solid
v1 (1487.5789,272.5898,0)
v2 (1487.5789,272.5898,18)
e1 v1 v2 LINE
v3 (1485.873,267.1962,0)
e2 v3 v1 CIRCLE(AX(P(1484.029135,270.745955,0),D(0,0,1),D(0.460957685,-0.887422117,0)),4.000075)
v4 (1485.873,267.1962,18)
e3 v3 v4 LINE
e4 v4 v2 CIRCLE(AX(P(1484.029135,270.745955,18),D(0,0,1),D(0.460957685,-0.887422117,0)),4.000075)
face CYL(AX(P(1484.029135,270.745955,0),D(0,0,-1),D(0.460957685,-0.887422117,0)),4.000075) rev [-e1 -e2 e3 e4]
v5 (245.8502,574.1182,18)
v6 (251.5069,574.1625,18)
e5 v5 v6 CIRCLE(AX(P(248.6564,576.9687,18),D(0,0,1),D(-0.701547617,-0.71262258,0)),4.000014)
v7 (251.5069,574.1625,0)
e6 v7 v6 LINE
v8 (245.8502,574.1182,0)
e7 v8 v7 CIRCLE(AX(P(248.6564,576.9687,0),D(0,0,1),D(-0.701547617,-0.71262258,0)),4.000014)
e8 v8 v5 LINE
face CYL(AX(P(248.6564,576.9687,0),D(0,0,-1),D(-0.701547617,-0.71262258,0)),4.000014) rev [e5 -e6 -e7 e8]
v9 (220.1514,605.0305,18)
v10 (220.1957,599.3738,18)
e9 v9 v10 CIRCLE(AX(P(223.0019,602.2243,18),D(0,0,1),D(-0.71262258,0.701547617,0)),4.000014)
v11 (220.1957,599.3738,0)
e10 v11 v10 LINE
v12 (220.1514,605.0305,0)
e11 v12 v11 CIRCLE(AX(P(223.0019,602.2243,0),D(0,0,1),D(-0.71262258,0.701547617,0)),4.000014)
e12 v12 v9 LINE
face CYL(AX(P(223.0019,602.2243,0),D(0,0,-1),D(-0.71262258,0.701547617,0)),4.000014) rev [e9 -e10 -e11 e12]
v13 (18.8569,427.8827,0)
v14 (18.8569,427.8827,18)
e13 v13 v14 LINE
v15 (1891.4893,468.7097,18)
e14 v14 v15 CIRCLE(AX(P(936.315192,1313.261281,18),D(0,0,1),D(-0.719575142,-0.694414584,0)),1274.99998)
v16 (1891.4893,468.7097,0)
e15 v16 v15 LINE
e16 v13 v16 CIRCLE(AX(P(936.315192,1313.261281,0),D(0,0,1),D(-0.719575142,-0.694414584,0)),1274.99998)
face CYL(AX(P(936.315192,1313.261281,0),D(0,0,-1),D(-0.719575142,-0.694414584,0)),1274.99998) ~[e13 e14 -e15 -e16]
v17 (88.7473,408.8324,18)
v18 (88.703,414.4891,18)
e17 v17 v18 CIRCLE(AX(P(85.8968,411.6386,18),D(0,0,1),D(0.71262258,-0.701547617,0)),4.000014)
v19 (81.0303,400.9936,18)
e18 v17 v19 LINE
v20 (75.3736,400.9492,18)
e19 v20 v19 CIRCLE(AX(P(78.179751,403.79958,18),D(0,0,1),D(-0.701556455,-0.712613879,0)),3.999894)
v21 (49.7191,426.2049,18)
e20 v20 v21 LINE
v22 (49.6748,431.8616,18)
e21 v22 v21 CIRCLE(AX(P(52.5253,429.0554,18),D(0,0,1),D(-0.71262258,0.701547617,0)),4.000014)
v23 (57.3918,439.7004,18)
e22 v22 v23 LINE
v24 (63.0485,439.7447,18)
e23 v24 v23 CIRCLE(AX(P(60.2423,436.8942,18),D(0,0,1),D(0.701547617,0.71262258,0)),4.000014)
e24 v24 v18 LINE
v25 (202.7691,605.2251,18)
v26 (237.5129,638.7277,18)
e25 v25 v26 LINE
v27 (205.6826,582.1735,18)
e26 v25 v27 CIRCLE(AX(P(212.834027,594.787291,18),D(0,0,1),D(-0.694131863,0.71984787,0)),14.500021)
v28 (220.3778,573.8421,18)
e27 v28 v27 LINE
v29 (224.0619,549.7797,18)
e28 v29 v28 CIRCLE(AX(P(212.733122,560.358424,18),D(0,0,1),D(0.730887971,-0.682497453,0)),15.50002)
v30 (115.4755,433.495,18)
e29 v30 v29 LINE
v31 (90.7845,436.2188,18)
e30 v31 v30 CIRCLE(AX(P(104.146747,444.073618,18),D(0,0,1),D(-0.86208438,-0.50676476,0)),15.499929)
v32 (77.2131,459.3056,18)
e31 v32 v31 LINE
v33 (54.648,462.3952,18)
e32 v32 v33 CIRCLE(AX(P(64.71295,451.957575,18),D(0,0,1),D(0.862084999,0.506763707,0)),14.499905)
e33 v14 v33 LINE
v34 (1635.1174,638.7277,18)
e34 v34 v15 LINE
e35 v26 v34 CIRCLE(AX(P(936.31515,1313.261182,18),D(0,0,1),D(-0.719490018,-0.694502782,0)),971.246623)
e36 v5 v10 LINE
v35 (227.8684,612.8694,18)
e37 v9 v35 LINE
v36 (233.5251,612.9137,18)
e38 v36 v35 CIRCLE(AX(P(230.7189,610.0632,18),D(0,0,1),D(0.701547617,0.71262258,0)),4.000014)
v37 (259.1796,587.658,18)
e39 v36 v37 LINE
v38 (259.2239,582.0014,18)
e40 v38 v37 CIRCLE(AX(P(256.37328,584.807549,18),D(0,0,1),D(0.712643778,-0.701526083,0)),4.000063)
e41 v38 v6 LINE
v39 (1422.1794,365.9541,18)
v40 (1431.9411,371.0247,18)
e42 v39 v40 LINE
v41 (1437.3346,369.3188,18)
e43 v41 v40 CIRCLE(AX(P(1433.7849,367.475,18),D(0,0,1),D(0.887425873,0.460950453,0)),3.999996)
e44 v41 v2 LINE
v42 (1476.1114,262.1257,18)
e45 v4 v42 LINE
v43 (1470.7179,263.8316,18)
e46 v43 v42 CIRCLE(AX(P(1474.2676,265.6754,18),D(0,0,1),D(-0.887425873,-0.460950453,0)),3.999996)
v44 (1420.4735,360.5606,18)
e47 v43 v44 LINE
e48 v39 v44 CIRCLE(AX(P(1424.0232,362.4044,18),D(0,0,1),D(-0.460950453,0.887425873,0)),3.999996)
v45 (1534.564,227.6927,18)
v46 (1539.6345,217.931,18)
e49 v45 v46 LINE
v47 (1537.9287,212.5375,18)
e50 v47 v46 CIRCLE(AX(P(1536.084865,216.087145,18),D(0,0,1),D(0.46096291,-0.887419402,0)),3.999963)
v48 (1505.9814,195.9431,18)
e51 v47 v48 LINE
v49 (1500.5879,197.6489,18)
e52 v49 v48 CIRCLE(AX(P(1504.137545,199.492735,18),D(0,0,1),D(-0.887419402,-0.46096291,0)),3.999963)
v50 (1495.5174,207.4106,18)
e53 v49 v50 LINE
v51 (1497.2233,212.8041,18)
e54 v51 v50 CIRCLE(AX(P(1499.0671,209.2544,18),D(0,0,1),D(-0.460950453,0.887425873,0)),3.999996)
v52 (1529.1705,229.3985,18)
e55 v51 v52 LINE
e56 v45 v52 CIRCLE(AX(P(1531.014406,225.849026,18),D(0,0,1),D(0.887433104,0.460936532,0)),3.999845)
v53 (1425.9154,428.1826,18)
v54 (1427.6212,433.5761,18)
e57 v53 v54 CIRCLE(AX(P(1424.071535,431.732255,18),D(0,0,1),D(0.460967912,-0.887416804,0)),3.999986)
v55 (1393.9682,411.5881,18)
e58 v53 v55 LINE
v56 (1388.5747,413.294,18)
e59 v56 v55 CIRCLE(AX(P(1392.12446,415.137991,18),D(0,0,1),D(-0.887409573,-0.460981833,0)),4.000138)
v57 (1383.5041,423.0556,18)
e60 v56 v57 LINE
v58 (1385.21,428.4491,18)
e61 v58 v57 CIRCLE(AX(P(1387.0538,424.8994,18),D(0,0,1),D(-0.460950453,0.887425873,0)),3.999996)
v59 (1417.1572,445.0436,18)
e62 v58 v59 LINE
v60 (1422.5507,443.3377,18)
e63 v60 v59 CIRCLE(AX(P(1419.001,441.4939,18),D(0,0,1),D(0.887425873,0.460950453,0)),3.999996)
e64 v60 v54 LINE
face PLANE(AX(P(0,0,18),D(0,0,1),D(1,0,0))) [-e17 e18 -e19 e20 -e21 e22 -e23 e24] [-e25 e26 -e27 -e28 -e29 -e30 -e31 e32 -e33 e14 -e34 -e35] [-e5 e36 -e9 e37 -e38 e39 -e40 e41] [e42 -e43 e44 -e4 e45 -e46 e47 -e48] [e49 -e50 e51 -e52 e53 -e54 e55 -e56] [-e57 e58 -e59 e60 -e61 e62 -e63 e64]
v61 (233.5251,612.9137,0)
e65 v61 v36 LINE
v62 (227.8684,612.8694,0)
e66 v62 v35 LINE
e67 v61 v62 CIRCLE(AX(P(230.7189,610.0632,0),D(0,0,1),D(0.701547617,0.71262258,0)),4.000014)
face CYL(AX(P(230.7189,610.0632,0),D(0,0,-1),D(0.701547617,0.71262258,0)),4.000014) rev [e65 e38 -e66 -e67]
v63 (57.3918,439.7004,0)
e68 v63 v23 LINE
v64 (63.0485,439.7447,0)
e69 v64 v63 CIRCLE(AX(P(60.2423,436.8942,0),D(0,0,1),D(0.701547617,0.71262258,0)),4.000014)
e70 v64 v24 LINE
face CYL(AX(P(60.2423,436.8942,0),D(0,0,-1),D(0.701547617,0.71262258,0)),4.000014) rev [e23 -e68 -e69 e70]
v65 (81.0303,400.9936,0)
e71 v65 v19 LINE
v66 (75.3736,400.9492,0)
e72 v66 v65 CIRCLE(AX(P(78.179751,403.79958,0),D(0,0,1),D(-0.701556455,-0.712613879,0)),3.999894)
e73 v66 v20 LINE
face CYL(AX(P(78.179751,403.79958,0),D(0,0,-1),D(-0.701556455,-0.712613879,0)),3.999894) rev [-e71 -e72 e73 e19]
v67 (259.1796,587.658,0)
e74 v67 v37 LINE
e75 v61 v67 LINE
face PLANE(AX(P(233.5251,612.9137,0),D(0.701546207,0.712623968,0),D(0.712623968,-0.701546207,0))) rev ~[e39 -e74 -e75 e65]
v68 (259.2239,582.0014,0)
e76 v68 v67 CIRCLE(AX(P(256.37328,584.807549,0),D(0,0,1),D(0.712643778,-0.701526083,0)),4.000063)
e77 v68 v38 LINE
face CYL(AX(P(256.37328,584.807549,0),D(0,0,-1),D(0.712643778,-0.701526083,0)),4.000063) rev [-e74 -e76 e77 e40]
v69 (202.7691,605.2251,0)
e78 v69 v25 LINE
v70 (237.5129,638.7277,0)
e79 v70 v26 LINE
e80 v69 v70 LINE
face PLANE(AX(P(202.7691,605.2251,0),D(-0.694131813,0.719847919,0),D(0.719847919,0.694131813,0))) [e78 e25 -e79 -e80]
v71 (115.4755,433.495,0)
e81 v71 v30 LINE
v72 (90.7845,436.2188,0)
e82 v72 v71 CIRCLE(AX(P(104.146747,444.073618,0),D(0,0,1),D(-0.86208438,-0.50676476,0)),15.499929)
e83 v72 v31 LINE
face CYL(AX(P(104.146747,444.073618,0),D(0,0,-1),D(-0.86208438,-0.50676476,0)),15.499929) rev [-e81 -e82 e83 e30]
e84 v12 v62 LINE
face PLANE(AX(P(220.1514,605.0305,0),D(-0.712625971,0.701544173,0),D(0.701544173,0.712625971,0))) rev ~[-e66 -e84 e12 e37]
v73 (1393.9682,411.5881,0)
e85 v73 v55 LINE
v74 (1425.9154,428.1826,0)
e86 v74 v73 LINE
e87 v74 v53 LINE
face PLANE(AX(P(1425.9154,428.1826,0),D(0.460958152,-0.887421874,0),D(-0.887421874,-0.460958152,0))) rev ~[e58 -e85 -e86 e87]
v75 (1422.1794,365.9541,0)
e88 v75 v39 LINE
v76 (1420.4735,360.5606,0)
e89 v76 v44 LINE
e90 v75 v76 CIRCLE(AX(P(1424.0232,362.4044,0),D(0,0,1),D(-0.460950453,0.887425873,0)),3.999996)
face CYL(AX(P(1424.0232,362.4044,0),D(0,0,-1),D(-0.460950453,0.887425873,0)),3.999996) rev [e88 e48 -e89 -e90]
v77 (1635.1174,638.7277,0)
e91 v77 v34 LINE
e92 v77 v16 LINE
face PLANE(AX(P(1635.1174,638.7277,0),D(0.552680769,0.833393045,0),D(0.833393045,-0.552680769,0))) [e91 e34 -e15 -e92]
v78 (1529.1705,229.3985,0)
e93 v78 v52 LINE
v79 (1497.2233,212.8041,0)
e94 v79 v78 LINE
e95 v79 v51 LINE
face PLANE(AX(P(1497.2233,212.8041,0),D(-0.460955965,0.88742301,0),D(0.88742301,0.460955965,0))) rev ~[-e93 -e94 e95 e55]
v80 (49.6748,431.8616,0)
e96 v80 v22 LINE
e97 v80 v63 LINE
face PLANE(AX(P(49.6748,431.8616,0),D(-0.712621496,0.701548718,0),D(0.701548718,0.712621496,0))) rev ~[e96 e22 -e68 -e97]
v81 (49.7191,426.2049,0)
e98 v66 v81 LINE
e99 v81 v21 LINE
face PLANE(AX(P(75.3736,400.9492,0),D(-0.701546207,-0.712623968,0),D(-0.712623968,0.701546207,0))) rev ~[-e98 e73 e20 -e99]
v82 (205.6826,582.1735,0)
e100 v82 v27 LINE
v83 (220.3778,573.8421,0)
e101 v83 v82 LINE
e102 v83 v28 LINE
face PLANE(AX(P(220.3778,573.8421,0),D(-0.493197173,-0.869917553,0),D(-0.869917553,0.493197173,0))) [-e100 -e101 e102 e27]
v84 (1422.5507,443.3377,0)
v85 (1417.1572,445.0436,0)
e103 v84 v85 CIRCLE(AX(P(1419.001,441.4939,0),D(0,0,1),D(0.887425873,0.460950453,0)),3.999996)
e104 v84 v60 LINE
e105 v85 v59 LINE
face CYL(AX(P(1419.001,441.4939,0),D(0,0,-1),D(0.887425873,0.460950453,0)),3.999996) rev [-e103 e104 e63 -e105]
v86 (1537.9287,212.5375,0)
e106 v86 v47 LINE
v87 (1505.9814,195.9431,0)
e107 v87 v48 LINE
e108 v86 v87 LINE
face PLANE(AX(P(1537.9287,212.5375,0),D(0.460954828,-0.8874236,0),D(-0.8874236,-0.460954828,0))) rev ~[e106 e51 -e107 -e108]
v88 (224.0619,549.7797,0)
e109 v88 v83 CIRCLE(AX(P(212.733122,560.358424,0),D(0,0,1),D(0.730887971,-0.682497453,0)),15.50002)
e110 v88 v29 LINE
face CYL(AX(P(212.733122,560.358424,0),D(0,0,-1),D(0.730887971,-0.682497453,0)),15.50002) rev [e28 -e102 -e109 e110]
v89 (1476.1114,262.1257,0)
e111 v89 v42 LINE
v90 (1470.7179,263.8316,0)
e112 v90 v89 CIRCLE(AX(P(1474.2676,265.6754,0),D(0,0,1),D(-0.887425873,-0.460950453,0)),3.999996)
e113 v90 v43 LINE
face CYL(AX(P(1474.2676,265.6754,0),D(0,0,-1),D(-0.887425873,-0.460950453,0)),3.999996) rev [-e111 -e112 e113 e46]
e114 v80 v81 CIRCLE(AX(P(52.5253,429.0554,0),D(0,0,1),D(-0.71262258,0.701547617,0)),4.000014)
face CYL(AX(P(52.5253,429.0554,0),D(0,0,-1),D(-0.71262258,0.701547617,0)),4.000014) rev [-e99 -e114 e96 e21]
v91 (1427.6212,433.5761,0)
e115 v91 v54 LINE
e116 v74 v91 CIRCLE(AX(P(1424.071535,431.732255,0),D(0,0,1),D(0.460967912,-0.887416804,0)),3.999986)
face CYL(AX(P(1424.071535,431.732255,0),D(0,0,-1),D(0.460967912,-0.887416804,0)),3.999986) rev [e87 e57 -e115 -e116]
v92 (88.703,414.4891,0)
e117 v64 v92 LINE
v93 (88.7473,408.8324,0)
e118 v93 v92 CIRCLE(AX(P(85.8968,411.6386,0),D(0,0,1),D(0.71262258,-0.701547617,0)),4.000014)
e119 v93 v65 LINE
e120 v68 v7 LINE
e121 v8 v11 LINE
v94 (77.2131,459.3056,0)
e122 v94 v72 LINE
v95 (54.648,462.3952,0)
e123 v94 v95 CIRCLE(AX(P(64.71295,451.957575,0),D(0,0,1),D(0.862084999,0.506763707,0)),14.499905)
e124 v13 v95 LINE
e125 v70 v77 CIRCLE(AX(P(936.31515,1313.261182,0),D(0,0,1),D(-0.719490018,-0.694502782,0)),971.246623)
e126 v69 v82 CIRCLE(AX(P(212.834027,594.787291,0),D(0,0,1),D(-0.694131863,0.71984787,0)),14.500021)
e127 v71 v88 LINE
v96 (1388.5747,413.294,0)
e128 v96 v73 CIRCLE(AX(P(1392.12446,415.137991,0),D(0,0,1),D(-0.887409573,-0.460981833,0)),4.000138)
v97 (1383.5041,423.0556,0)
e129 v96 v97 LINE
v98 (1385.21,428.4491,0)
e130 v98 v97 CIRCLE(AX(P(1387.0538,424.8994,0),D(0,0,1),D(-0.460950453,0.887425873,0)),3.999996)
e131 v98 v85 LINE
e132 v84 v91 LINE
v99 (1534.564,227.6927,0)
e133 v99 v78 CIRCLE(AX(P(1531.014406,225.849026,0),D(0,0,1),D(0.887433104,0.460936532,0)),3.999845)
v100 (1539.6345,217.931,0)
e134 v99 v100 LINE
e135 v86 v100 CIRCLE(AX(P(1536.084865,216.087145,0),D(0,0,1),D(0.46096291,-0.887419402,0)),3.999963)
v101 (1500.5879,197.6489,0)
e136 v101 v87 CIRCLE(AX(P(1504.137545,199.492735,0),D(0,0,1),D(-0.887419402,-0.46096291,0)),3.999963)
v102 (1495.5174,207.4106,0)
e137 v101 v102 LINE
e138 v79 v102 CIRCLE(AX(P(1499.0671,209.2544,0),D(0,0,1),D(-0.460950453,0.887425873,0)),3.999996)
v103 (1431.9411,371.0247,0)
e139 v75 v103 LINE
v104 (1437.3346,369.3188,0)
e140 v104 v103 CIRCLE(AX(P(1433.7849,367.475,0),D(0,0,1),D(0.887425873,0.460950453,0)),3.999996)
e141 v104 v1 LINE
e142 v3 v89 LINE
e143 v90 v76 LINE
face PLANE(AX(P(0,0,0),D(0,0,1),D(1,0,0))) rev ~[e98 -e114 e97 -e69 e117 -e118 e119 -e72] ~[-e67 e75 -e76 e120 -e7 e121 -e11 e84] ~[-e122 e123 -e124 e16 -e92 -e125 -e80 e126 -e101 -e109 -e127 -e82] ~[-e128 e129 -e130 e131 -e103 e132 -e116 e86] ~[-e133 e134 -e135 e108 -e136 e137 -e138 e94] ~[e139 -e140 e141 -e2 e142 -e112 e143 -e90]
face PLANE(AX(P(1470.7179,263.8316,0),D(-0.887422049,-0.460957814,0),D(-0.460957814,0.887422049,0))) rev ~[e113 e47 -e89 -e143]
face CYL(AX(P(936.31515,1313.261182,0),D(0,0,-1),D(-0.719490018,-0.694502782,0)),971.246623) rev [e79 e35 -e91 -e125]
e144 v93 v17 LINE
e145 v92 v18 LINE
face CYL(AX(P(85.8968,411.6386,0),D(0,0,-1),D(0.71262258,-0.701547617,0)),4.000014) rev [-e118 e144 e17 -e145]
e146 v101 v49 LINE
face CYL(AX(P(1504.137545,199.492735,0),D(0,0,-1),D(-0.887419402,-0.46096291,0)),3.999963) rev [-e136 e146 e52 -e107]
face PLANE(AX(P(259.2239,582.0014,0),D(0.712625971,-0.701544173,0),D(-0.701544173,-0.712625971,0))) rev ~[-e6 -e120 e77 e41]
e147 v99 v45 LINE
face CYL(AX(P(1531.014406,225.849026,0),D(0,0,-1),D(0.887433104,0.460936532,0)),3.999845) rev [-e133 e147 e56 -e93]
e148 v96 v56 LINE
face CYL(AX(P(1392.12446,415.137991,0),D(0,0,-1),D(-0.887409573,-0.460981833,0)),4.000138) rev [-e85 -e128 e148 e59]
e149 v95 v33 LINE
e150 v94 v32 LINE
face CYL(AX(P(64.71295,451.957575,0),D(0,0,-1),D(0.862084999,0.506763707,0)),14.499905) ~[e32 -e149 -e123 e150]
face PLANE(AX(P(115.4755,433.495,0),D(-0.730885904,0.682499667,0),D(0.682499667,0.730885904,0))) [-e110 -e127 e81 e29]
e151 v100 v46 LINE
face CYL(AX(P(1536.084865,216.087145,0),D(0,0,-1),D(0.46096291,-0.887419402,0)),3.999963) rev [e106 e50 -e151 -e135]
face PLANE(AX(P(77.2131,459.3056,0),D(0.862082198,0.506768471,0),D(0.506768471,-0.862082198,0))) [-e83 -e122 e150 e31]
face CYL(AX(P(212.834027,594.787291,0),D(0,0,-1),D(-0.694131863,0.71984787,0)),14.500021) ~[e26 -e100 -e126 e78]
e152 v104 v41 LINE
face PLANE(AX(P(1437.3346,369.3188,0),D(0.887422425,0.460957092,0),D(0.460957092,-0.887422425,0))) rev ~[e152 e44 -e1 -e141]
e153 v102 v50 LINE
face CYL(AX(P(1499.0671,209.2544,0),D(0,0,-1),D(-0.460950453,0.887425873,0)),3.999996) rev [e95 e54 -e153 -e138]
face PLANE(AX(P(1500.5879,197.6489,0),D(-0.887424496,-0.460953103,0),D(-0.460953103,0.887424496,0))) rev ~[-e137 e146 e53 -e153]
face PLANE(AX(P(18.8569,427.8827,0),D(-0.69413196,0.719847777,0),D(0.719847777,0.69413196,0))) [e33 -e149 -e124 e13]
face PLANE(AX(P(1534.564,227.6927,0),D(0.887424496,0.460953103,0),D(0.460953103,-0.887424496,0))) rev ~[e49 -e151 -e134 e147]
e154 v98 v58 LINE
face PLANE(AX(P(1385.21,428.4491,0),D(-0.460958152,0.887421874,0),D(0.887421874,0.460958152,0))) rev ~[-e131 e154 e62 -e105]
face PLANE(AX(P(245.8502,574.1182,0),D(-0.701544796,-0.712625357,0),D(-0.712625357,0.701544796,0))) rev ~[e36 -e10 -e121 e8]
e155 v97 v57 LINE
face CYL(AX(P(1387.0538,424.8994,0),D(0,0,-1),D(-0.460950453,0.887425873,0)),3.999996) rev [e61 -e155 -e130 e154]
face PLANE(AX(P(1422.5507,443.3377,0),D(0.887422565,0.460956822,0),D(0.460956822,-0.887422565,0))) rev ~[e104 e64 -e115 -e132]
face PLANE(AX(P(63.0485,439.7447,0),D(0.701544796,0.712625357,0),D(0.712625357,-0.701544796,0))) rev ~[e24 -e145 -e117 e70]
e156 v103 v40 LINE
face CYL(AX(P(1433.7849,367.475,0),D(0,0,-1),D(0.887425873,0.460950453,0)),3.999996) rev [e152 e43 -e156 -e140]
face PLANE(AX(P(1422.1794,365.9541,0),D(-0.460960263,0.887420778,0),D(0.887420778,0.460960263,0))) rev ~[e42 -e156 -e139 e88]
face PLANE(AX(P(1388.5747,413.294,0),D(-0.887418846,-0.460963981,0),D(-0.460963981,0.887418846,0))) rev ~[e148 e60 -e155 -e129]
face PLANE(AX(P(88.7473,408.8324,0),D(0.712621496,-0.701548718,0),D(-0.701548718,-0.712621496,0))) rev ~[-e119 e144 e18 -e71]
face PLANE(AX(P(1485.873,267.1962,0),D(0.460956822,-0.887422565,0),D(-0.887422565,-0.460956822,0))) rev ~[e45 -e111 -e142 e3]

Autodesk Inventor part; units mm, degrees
ref_plane "YZ Plane" through (0, 0, 0) normal (1, 0, 0) x (0, 1, 0)
ref_plane "XZ Plane" through (0, 0, 0) normal (0, 1, 0) x (-1, 0, 0)
ref_plane "XY Plane" through (0, 0, 0) normal (0, 0, 1) x (1, 0, 0)
sketch "CONTOURS" plane through (0, 0, 0) normal (0, 0, 1) x (1, 0, 0)
  arc A0 (18.8569, 427.8827) -> (1891.4893, 468.7097) centre (936.3152, 1313.2613) ccw
  line L0 (18.8569, 427.8827) -> (54.648, 462.3952)
  arc A1 (77.2131, 459.3056) -> (54.648, 462.3952) centre (64.7129, 451.9575) ccw
  line L1 (77.2131, 459.3056) -> (90.7845, 436.2188)
  arc A2 (90.7845, 436.2188) -> (115.4755, 433.495) centre (104.1468, 444.0737) ccw
  line L2 (115.4755, 433.495) -> (224.0619, 549.7797)
  arc A3 (224.0619, 549.7797) -> (220.3778, 573.8421) centre (212.7332, 560.3584) ccw
  line L3 (220.3778, 573.8421) -> (205.6826, 582.1735)
  arc A4 (202.7691, 605.2251) -> (205.6826, 582.1735) centre (212.834, 594.7873) ccw
  line L4 (202.7691, 605.2251) -> (237.5129, 638.7277)
  arc A5 (237.5129, 638.7277) -> (1635.1174, 638.7277) centre (936.3152, 1313.2613) ccw
  line L5 (1635.1174, 638.7277) -> (1891.4893, 468.7097)
sketch "HOLES" plane through (0, 0, 0) normal (0, 0, 1) x (1, 0, 0)
  arc A0 (75.3736, 400.9492) -> (81.0303, 400.9936) centre (78.1798, 403.7997) ccw
  line L0 (75.3736, 400.9492) -> (49.7191, 426.2049)
  arc A1 (49.6748, 431.8616) -> (49.7191, 426.2049) centre (52.5253, 429.0554) ccw
  line L1 (49.6748, 431.8616) -> (57.3918, 439.7004)
  arc A2 (63.0485, 439.7447) -> (57.3918, 439.7004) centre (60.2423, 436.8942) ccw
  line L2 (63.0485, 439.7447) -> (88.703, 414.4891)
  arc A3 (88.7473, 408.8324) -> (88.703, 414.4891) centre (85.8968, 411.6386) ccw
  line L3 (1537.9287, 212.5375) -> (1505.9814, 195.9431)
  arc A4 (1500.5879, 197.6489) -> (1505.9814, 195.9431) centre (1504.1376, 199.4928) ccw
  line L4 (1500.5879, 197.6489) -> (1495.5174, 207.4106)
  arc A5 (1497.2233, 212.8041) -> (1495.5174, 207.4106) centre (1499.0671, 209.2544) ccw
  line L5 (1497.2233, 212.8041) -> (1529.1705, 229.3985)
  arc A6 (1534.564, 227.6927) -> (1529.1705, 229.3985) centre (1531.0143, 225.8489) ccw
  line L6 (1534.564, 227.6927) -> (1539.6345, 217.931)
  arc A7 (1537.9287, 212.5375) -> (1539.6345, 217.931) centre (1536.0848, 216.0872) ccw
  line L7 (1485.873, 267.1962) -> (1476.1114, 262.1257)
  arc A8 (1470.7179, 263.8316) -> (1476.1114, 262.1257) centre (1474.2676, 265.6754) ccw
  line L8 (1470.7179, 263.8316) -> (1420.4735, 360.5606)
  arc A9 (1422.1794, 365.9541) -> (1420.4735, 360.5606) centre (1424.0232, 362.4044) ccw
  line L9 (1422.1794, 365.9541) -> (1431.9411, 371.0247)
  arc A10 (1437.3346, 369.3188) -> (1431.9411, 371.0247) centre (1433.7849, 367.475) ccw
  line L10 (1437.3346, 369.3188) -> (1487.5789, 272.5898)
  arc A11 (1485.873, 267.1962) -> (1487.5789, 272.5898) centre (1484.0292, 270.7459) ccw
  line L11 (1388.5747, 413.294) -> (1383.5041, 423.0556)
  arc A12 (1385.21, 428.4491) -> (1383.5041, 423.0556) centre (1387.0538, 424.8994) ccw
  line L12 (1385.21, 428.4491) -> (1417.1572, 445.0436)
  arc A13 (1422.5507, 443.3377) -> (1417.1572, 445.0436) centre (1419.001, 441.4939) ccw
  line L13 (1422.5507, 443.3377) -> (1427.6212, 433.5761)
  arc A14 (1425.9154, 428.1826) -> (1427.6212, 433.5761) centre (1424.0716, 431.7322) ccw
  line L14 (1425.9154, 428.1826) -> (1393.9682, 411.5881)
  arc A15 (1388.5747, 413.294) -> (1393.9682, 411.5881) centre (1392.1243, 415.1378) ccw
  line L15 (220.1514, 605.0305) -> (227.8684, 612.8694)
  arc A16 (233.5251, 612.9137) -> (227.8684, 612.8694) centre (230.7189, 610.0632) ccw
  line L16 (233.5251, 612.9137) -> (259.1796, 587.658)
  arc A17 (259.2239, 582.0014) -> (259.1796, 587.658) centre (256.3734, 584.8075) ccw
  line L17 (259.2239, 582.0014) -> (251.5069, 574.1625)
  arc A18 (245.8502, 574.1182) -> (251.5069, 574.1625) centre (248.6564, 576.9687) ccw
  line L18 (245.8502, 574.1182) -> (220.1957, 599.3738)
  arc A19 (220.1514, 605.0305) -> (220.1957, 599.3738) centre (223.0019, 602.2243) ccw
  line L19 (543.0858, 821.5545) -> (547.6833, 831.5476)
  arc A20 (547.6833, 831.5476) -> (545.7213, 836.8533) centre (544.0494, 833.2195) ccw
  line L20 (545.7213, 836.8533) -> (513.0165, 851.8999)
  arc A21 (513.0165, 851.8999) -> (507.7108, 849.9379) centre (511.3447, 848.266) ccw
  line L21 (507.7108, 849.9379) -> (503.1133, 839.9447)
  arc A22 (503.1133, 839.9447) -> (505.0753, 834.639) centre (506.7471, 838.2729) ccw
  line L22 (505.0753, 834.639) -> (537.7801, 819.5925)
  arc A23 (537.7801, 819.5925) -> (543.0858, 821.5545) centre (539.4519, 823.2264) ccw
  line L23 (481.0423, 782.4016) -> (435.4847, 683.3788)
  arc A24 (435.4847, 683.3788) -> (437.4468, 678.0731) centre (439.1186, 681.7069) ccw
  line L24 (437.4468, 678.0731) -> (447.4399, 673.4755)
  arc A25 (447.4399, 673.4755) -> (452.7456, 675.4376) centre (449.1117, 677.1094) ccw
  line L25 (452.7456, 675.4376) -> (498.3031, 774.4603)
  arc A26 (498.3031, 774.4603) -> (496.3411, 779.766) centre (494.6693, 776.1322) ccw
  line L26 (496.3411, 779.766) -> (486.348, 784.3636)
  arc A27 (486.348, 784.3636) -> (481.0423, 782.4016) centre (484.6762, 780.7297) ccw
  line L27 (446.1185, 610.7891) -> (441.521, 600.7959)
  arc A28 (436.2153, 598.8339) -> (441.521, 600.7959) centre (437.8871, 602.4678) ccw
  line L28 (436.2153, 598.8339) -> (403.5105, 613.8804)
  arc A29 (401.5485, 619.1861) -> (403.5105, 613.8804) centre (405.1824, 617.5143) ccw
  line L29 (401.5485, 619.1861) -> (406.1461, 629.1793)
  arc A30 (411.4518, 631.1413) -> (406.1461, 629.1793) centre (409.7799, 627.5074) ccw
  line L30 (411.4518, 631.1413) -> (444.1565, 616.0948)
  arc A31 (446.1185, 610.7891) -> (444.1565, 616.0948) centre (442.4847, 612.4609) ccw
  line L31 (88.7473, 408.8324) -> (81.0303, 400.9936)
sketch "LETTERS" plane through (0, 0, 0) normal (0, 0, 1) x (1, 0, 0)
  line L0 (228.3428, 428.6061) -> (222.1589, 433.5761)
  line L1 (222.1589, 433.5761) -> (234.7826, 448.8621)
  line L2 (234.7826, 448.8621) -> (240.0493, 444.5126)
  line L3 (240.0493, 444.5126) -> (240.1714, 444.4197)
  line L4 (240.1714, 444.4197) -> (240.2915, 444.3221)
  line L5 (240.2915, 444.3221) -> (240.4096, 444.2197)
  line L6 (240.4096, 444.2197) -> (240.5256, 444.1125)
  line L7 (240.5256, 444.1125) -> (240.6391, 444.0004)
  line L8 (240.6391, 444.0004) -> (240.7501, 443.8834)
  line L9 (240.7501, 443.8834) -> (240.8585, 443.7615)
  line L10 (240.8585, 443.7615) -> (240.9639, 443.6348)
  line L11 (240.9639, 443.6348) -> (241.0664, 443.5031)
  line L12 (241.0664, 443.5031) -> (241.1657, 443.3666)
  line L13 (228.4677, 428.5172) -> (228.3428, 428.6061)
  line L14 (228.5966, 428.4315) -> (228.4677, 428.5172)
  line L15 (228.7295, 428.3492) -> (228.5966, 428.4315)
  line L16 (228.8663, 428.2704) -> (228.7295, 428.3492)
  line L17 (229.0071, 428.1953) -> (228.8663, 428.2704)
  line L18 (229.1518, 428.1241) -> (229.0071, 428.1953)
  line L19 (229.3004, 428.0569) -> (229.1518, 428.1241)
  line L20 (229.4528, 427.9939) -> (229.3004, 428.0569)
  line L21 (229.609, 427.9352) -> (229.4528, 427.9939)
  line L22 (229.7689, 427.8809) -> (229.609, 427.9352)
  line L23 (229.9324, 427.8313) -> (229.7689, 427.8809)
  line L24 (230.0995, 427.7865) -> (229.9324, 427.8313)
  line L25 (230.2701, 427.7466) -> (230.0995, 427.7865)
  line L26 (230.444, 427.7117) -> (230.2701, 427.7466)
  line L27 (230.6212, 427.6819) -> (230.444, 427.7117)
  line L28 (230.8016, 427.6574) -> (230.6212, 427.6819)
  line L29 (230.9849, 427.6383) -> (230.8016, 427.6574)
  line L30 (231.1712, 427.6246) -> (230.9849, 427.6383)
  line L31 (231.3602, 427.6165) -> (231.1712, 427.6246)
  line L32 (231.5519, 427.6141) -> (231.3602, 427.6165)
  line L33 (231.7459, 427.6174) -> (231.5519, 427.6141)
  line L34 (231.9423, 427.6264) -> (231.7459, 427.6174)
  line L35 (232.1408, 427.6413) -> (231.9423, 427.6264)
  line L36 (232.3412, 427.662) -> (232.1408, 427.6413)
  line L37 (232.5433, 427.6887) -> (232.3412, 427.662)
  line L38 (232.747, 427.7212) -> (232.5433, 427.6887)
  line L39 (232.9521, 427.7597) -> (232.747, 427.7212)
  line L40 (233.1584, 427.8041) -> (232.9521, 427.7597)
  line L41 (233.3656, 427.8544) -> (233.1584, 427.8041)
  line L42 (233.5736, 427.9106) -> (233.3656, 427.8544)
  line L43 (233.7821, 427.9726) -> (233.5736, 427.9106)
  line L44 (233.991, 428.0404) -> (233.7821, 427.9726)
  line L45 (234.2, 428.1139) -> (233.991, 428.0404)
  line L46 (234.409, 428.193) -> (234.2, 428.1139)
  line L47 (234.6177, 428.2776) -> (234.409, 428.193)
  line L48 (234.8258, 428.3677) -> (234.6177, 428.2776)
  line L49 (235.0333, 428.4632) -> (234.8258, 428.3677)
  line L50 (235.2399, 428.5638) -> (235.0333, 428.4632)
  line L51 (235.4454, 428.6696) -> (235.2399, 428.5638)
  line L52 (235.6496, 428.7803) -> (235.4454, 428.6696)
  line L53 (235.8522, 428.8958) -> (235.6496, 428.7803)
  line L54 (236.0532, 429.0159) -> (235.8522, 428.8958)
  line L55 (236.2524, 429.1405) -> (236.0532, 429.0159)
  line L56 (236.4495, 429.2695) -> (236.2524, 429.1405)
  line L57 (236.6444, 429.4026) -> (236.4495, 429.2695)
  line L58 (236.8369, 429.5396) -> (236.6444, 429.4026)
  line L59 (237.0269, 429.6804) -> (236.8369, 429.5396)
  line L60 (237.2142, 429.8249) -> (237.0269, 429.6804)
  line L61 (237.3987, 429.9727) -> (237.2142, 429.8249)
  line L62 (237.5803, 430.1237) -> (237.3987, 429.9727)
  line L63 (237.7587, 430.2777) -> (237.5803, 430.1237)
  line L64 (237.934, 430.4346) -> (237.7587, 430.2777)
  line L65 (238.2747, 430.7559) -> (237.934, 430.4346)
  line L66 (238.6014, 431.0861) -> (238.2747, 430.7559)
  line L67 (238.9137, 431.4236) -> (238.6014, 431.0861)
  line L68 (239.2109, 431.7669) -> (238.9137, 431.4236)
  line L69 (239.4929, 432.1144) -> (239.2109, 431.7669)
  line L70 (239.7594, 432.4649) -> (239.4929, 432.1144)
  line L71 (240.0148, 432.8236) -> (239.7594, 432.4649)
  line L72 (240.2628, 433.1961) -> (240.0148, 432.8236)
  line L73 (240.5022, 433.582) -> (240.2628, 433.1961)
  line L74 (240.7316, 433.9805) -> (240.5022, 433.582)
  line L75 (240.9497, 434.3906) -> (240.7316, 433.9805)
  line L76 (241.1552, 434.8114) -> (240.9497, 434.3906)
  line L77 (241.2528, 435.0254) -> (241.1552, 434.8114)
  line L78 (241.3468, 435.2416) -> (241.2528, 435.0254)
  line L79 (241.4371, 435.4598) -> (241.3468, 435.2416)
  line L80 (241.5233, 435.68) -> (241.4371, 435.4598)
  line L81 (241.6055, 435.9017) -> (241.5233, 435.68)
  line L82 (241.6835, 436.125) -> (241.6055, 435.9017)
  line L83 (241.7571, 436.3496) -> (241.6835, 436.125)
  line L84 (241.8262, 436.5752) -> (241.7571, 436.3496)
  line L85 (241.8908, 436.8018) -> (241.8262, 436.5752)
  line L86 (241.9505, 437.0289) -> (241.8908, 436.8018)
  line L87 (242.0055, 437.2566) -> (241.9505, 437.0289)
  line L88 (242.0555, 437.4844) -> (242.0055, 437.2566)
  line L89 (242.1005, 437.7123) -> (242.0555, 437.4844)
  line L90 (242.1404, 437.9399) -> (242.1005, 437.7123)
  line L91 (242.175, 438.1671) -> (242.1404, 437.9399)
  line L92 (242.2045, 438.3936) -> (242.175, 438.1671)
  line L93 (242.2286, 438.6191) -> (242.2045, 438.3936)
  line L94 (242.2474, 438.8435) -> (242.2286, 438.6191)
  line L95 (242.2608, 439.0665) -> (242.2474, 438.8435)
  line L96 (242.2688, 439.288) -> (242.2608, 439.0665)
  line L97 (242.2714, 439.5075) -> (242.2688, 439.288)
  line L98 (242.2686, 439.7251) -> (242.2714, 439.5075)
  line L99 (242.2604, 439.9404) -> (242.2686, 439.7251)
  line L100 (242.2468, 440.1532) -> (242.2604, 439.9404)
  line L101 (242.2279, 440.3633) -> (242.2468, 440.1532)
  line L102 (242.2037, 440.5706) -> (242.2279, 440.3633)
  line L103 (242.1742, 440.7747) -> (242.2037, 440.5706)
  line L104 (242.1395, 440.9757) -> (242.1742, 440.7747)
  line L105 (242.0998, 441.1732) -> (242.1395, 440.9757)
  line L106 (242.055, 441.3671) -> (242.0998, 441.1732)
  line L107 (242.0052, 441.5573) -> (242.055, 441.3671)
  line L108 (241.9506, 441.7435) -> (242.0052, 441.5573)
  line L109 (241.8913, 441.9258) -> (241.9506, 441.7435)
  line L110 (241.8274, 442.1039) -> (241.8913, 441.9258)
  line L111 (241.759, 442.2776) -> (241.8274, 442.1039)
  line L112 (241.6862, 442.447) -> (241.759, 442.2776)
  line L113 (241.6092, 442.612) -> (241.6862, 442.447)
  line L114 (241.5281, 442.7723) -> (241.6092, 442.612)
  line L115 (241.443, 442.928) -> (241.5281, 442.7723)
  line L116 (241.3542, 443.079) -> (241.443, 442.928)
  line L117 (241.2617, 443.2252) -> (241.3542, 443.079)
  line L118 (241.1657, 443.3666) -> (241.2617, 443.2252)
extrude "Extrusion4" add sketch "CONTOURS" along normal blind 18
extrude "Extrusion5" cut sketch "HOLES" along normal blind 18 contours L0 A1 L1 A2 L2 A3 L31 A0 | L3 A4 L4 A5 L5 A6 L6 A7 | L7 A8 L8 A9 L9 A10 L10 A11 | L11 A12 L12 A13 L13 A14 L14 A15 | L15 A16 L16 A17 L17 A18 L18 A19
properties part number "Platform D4" material "Wood (Birch)"
